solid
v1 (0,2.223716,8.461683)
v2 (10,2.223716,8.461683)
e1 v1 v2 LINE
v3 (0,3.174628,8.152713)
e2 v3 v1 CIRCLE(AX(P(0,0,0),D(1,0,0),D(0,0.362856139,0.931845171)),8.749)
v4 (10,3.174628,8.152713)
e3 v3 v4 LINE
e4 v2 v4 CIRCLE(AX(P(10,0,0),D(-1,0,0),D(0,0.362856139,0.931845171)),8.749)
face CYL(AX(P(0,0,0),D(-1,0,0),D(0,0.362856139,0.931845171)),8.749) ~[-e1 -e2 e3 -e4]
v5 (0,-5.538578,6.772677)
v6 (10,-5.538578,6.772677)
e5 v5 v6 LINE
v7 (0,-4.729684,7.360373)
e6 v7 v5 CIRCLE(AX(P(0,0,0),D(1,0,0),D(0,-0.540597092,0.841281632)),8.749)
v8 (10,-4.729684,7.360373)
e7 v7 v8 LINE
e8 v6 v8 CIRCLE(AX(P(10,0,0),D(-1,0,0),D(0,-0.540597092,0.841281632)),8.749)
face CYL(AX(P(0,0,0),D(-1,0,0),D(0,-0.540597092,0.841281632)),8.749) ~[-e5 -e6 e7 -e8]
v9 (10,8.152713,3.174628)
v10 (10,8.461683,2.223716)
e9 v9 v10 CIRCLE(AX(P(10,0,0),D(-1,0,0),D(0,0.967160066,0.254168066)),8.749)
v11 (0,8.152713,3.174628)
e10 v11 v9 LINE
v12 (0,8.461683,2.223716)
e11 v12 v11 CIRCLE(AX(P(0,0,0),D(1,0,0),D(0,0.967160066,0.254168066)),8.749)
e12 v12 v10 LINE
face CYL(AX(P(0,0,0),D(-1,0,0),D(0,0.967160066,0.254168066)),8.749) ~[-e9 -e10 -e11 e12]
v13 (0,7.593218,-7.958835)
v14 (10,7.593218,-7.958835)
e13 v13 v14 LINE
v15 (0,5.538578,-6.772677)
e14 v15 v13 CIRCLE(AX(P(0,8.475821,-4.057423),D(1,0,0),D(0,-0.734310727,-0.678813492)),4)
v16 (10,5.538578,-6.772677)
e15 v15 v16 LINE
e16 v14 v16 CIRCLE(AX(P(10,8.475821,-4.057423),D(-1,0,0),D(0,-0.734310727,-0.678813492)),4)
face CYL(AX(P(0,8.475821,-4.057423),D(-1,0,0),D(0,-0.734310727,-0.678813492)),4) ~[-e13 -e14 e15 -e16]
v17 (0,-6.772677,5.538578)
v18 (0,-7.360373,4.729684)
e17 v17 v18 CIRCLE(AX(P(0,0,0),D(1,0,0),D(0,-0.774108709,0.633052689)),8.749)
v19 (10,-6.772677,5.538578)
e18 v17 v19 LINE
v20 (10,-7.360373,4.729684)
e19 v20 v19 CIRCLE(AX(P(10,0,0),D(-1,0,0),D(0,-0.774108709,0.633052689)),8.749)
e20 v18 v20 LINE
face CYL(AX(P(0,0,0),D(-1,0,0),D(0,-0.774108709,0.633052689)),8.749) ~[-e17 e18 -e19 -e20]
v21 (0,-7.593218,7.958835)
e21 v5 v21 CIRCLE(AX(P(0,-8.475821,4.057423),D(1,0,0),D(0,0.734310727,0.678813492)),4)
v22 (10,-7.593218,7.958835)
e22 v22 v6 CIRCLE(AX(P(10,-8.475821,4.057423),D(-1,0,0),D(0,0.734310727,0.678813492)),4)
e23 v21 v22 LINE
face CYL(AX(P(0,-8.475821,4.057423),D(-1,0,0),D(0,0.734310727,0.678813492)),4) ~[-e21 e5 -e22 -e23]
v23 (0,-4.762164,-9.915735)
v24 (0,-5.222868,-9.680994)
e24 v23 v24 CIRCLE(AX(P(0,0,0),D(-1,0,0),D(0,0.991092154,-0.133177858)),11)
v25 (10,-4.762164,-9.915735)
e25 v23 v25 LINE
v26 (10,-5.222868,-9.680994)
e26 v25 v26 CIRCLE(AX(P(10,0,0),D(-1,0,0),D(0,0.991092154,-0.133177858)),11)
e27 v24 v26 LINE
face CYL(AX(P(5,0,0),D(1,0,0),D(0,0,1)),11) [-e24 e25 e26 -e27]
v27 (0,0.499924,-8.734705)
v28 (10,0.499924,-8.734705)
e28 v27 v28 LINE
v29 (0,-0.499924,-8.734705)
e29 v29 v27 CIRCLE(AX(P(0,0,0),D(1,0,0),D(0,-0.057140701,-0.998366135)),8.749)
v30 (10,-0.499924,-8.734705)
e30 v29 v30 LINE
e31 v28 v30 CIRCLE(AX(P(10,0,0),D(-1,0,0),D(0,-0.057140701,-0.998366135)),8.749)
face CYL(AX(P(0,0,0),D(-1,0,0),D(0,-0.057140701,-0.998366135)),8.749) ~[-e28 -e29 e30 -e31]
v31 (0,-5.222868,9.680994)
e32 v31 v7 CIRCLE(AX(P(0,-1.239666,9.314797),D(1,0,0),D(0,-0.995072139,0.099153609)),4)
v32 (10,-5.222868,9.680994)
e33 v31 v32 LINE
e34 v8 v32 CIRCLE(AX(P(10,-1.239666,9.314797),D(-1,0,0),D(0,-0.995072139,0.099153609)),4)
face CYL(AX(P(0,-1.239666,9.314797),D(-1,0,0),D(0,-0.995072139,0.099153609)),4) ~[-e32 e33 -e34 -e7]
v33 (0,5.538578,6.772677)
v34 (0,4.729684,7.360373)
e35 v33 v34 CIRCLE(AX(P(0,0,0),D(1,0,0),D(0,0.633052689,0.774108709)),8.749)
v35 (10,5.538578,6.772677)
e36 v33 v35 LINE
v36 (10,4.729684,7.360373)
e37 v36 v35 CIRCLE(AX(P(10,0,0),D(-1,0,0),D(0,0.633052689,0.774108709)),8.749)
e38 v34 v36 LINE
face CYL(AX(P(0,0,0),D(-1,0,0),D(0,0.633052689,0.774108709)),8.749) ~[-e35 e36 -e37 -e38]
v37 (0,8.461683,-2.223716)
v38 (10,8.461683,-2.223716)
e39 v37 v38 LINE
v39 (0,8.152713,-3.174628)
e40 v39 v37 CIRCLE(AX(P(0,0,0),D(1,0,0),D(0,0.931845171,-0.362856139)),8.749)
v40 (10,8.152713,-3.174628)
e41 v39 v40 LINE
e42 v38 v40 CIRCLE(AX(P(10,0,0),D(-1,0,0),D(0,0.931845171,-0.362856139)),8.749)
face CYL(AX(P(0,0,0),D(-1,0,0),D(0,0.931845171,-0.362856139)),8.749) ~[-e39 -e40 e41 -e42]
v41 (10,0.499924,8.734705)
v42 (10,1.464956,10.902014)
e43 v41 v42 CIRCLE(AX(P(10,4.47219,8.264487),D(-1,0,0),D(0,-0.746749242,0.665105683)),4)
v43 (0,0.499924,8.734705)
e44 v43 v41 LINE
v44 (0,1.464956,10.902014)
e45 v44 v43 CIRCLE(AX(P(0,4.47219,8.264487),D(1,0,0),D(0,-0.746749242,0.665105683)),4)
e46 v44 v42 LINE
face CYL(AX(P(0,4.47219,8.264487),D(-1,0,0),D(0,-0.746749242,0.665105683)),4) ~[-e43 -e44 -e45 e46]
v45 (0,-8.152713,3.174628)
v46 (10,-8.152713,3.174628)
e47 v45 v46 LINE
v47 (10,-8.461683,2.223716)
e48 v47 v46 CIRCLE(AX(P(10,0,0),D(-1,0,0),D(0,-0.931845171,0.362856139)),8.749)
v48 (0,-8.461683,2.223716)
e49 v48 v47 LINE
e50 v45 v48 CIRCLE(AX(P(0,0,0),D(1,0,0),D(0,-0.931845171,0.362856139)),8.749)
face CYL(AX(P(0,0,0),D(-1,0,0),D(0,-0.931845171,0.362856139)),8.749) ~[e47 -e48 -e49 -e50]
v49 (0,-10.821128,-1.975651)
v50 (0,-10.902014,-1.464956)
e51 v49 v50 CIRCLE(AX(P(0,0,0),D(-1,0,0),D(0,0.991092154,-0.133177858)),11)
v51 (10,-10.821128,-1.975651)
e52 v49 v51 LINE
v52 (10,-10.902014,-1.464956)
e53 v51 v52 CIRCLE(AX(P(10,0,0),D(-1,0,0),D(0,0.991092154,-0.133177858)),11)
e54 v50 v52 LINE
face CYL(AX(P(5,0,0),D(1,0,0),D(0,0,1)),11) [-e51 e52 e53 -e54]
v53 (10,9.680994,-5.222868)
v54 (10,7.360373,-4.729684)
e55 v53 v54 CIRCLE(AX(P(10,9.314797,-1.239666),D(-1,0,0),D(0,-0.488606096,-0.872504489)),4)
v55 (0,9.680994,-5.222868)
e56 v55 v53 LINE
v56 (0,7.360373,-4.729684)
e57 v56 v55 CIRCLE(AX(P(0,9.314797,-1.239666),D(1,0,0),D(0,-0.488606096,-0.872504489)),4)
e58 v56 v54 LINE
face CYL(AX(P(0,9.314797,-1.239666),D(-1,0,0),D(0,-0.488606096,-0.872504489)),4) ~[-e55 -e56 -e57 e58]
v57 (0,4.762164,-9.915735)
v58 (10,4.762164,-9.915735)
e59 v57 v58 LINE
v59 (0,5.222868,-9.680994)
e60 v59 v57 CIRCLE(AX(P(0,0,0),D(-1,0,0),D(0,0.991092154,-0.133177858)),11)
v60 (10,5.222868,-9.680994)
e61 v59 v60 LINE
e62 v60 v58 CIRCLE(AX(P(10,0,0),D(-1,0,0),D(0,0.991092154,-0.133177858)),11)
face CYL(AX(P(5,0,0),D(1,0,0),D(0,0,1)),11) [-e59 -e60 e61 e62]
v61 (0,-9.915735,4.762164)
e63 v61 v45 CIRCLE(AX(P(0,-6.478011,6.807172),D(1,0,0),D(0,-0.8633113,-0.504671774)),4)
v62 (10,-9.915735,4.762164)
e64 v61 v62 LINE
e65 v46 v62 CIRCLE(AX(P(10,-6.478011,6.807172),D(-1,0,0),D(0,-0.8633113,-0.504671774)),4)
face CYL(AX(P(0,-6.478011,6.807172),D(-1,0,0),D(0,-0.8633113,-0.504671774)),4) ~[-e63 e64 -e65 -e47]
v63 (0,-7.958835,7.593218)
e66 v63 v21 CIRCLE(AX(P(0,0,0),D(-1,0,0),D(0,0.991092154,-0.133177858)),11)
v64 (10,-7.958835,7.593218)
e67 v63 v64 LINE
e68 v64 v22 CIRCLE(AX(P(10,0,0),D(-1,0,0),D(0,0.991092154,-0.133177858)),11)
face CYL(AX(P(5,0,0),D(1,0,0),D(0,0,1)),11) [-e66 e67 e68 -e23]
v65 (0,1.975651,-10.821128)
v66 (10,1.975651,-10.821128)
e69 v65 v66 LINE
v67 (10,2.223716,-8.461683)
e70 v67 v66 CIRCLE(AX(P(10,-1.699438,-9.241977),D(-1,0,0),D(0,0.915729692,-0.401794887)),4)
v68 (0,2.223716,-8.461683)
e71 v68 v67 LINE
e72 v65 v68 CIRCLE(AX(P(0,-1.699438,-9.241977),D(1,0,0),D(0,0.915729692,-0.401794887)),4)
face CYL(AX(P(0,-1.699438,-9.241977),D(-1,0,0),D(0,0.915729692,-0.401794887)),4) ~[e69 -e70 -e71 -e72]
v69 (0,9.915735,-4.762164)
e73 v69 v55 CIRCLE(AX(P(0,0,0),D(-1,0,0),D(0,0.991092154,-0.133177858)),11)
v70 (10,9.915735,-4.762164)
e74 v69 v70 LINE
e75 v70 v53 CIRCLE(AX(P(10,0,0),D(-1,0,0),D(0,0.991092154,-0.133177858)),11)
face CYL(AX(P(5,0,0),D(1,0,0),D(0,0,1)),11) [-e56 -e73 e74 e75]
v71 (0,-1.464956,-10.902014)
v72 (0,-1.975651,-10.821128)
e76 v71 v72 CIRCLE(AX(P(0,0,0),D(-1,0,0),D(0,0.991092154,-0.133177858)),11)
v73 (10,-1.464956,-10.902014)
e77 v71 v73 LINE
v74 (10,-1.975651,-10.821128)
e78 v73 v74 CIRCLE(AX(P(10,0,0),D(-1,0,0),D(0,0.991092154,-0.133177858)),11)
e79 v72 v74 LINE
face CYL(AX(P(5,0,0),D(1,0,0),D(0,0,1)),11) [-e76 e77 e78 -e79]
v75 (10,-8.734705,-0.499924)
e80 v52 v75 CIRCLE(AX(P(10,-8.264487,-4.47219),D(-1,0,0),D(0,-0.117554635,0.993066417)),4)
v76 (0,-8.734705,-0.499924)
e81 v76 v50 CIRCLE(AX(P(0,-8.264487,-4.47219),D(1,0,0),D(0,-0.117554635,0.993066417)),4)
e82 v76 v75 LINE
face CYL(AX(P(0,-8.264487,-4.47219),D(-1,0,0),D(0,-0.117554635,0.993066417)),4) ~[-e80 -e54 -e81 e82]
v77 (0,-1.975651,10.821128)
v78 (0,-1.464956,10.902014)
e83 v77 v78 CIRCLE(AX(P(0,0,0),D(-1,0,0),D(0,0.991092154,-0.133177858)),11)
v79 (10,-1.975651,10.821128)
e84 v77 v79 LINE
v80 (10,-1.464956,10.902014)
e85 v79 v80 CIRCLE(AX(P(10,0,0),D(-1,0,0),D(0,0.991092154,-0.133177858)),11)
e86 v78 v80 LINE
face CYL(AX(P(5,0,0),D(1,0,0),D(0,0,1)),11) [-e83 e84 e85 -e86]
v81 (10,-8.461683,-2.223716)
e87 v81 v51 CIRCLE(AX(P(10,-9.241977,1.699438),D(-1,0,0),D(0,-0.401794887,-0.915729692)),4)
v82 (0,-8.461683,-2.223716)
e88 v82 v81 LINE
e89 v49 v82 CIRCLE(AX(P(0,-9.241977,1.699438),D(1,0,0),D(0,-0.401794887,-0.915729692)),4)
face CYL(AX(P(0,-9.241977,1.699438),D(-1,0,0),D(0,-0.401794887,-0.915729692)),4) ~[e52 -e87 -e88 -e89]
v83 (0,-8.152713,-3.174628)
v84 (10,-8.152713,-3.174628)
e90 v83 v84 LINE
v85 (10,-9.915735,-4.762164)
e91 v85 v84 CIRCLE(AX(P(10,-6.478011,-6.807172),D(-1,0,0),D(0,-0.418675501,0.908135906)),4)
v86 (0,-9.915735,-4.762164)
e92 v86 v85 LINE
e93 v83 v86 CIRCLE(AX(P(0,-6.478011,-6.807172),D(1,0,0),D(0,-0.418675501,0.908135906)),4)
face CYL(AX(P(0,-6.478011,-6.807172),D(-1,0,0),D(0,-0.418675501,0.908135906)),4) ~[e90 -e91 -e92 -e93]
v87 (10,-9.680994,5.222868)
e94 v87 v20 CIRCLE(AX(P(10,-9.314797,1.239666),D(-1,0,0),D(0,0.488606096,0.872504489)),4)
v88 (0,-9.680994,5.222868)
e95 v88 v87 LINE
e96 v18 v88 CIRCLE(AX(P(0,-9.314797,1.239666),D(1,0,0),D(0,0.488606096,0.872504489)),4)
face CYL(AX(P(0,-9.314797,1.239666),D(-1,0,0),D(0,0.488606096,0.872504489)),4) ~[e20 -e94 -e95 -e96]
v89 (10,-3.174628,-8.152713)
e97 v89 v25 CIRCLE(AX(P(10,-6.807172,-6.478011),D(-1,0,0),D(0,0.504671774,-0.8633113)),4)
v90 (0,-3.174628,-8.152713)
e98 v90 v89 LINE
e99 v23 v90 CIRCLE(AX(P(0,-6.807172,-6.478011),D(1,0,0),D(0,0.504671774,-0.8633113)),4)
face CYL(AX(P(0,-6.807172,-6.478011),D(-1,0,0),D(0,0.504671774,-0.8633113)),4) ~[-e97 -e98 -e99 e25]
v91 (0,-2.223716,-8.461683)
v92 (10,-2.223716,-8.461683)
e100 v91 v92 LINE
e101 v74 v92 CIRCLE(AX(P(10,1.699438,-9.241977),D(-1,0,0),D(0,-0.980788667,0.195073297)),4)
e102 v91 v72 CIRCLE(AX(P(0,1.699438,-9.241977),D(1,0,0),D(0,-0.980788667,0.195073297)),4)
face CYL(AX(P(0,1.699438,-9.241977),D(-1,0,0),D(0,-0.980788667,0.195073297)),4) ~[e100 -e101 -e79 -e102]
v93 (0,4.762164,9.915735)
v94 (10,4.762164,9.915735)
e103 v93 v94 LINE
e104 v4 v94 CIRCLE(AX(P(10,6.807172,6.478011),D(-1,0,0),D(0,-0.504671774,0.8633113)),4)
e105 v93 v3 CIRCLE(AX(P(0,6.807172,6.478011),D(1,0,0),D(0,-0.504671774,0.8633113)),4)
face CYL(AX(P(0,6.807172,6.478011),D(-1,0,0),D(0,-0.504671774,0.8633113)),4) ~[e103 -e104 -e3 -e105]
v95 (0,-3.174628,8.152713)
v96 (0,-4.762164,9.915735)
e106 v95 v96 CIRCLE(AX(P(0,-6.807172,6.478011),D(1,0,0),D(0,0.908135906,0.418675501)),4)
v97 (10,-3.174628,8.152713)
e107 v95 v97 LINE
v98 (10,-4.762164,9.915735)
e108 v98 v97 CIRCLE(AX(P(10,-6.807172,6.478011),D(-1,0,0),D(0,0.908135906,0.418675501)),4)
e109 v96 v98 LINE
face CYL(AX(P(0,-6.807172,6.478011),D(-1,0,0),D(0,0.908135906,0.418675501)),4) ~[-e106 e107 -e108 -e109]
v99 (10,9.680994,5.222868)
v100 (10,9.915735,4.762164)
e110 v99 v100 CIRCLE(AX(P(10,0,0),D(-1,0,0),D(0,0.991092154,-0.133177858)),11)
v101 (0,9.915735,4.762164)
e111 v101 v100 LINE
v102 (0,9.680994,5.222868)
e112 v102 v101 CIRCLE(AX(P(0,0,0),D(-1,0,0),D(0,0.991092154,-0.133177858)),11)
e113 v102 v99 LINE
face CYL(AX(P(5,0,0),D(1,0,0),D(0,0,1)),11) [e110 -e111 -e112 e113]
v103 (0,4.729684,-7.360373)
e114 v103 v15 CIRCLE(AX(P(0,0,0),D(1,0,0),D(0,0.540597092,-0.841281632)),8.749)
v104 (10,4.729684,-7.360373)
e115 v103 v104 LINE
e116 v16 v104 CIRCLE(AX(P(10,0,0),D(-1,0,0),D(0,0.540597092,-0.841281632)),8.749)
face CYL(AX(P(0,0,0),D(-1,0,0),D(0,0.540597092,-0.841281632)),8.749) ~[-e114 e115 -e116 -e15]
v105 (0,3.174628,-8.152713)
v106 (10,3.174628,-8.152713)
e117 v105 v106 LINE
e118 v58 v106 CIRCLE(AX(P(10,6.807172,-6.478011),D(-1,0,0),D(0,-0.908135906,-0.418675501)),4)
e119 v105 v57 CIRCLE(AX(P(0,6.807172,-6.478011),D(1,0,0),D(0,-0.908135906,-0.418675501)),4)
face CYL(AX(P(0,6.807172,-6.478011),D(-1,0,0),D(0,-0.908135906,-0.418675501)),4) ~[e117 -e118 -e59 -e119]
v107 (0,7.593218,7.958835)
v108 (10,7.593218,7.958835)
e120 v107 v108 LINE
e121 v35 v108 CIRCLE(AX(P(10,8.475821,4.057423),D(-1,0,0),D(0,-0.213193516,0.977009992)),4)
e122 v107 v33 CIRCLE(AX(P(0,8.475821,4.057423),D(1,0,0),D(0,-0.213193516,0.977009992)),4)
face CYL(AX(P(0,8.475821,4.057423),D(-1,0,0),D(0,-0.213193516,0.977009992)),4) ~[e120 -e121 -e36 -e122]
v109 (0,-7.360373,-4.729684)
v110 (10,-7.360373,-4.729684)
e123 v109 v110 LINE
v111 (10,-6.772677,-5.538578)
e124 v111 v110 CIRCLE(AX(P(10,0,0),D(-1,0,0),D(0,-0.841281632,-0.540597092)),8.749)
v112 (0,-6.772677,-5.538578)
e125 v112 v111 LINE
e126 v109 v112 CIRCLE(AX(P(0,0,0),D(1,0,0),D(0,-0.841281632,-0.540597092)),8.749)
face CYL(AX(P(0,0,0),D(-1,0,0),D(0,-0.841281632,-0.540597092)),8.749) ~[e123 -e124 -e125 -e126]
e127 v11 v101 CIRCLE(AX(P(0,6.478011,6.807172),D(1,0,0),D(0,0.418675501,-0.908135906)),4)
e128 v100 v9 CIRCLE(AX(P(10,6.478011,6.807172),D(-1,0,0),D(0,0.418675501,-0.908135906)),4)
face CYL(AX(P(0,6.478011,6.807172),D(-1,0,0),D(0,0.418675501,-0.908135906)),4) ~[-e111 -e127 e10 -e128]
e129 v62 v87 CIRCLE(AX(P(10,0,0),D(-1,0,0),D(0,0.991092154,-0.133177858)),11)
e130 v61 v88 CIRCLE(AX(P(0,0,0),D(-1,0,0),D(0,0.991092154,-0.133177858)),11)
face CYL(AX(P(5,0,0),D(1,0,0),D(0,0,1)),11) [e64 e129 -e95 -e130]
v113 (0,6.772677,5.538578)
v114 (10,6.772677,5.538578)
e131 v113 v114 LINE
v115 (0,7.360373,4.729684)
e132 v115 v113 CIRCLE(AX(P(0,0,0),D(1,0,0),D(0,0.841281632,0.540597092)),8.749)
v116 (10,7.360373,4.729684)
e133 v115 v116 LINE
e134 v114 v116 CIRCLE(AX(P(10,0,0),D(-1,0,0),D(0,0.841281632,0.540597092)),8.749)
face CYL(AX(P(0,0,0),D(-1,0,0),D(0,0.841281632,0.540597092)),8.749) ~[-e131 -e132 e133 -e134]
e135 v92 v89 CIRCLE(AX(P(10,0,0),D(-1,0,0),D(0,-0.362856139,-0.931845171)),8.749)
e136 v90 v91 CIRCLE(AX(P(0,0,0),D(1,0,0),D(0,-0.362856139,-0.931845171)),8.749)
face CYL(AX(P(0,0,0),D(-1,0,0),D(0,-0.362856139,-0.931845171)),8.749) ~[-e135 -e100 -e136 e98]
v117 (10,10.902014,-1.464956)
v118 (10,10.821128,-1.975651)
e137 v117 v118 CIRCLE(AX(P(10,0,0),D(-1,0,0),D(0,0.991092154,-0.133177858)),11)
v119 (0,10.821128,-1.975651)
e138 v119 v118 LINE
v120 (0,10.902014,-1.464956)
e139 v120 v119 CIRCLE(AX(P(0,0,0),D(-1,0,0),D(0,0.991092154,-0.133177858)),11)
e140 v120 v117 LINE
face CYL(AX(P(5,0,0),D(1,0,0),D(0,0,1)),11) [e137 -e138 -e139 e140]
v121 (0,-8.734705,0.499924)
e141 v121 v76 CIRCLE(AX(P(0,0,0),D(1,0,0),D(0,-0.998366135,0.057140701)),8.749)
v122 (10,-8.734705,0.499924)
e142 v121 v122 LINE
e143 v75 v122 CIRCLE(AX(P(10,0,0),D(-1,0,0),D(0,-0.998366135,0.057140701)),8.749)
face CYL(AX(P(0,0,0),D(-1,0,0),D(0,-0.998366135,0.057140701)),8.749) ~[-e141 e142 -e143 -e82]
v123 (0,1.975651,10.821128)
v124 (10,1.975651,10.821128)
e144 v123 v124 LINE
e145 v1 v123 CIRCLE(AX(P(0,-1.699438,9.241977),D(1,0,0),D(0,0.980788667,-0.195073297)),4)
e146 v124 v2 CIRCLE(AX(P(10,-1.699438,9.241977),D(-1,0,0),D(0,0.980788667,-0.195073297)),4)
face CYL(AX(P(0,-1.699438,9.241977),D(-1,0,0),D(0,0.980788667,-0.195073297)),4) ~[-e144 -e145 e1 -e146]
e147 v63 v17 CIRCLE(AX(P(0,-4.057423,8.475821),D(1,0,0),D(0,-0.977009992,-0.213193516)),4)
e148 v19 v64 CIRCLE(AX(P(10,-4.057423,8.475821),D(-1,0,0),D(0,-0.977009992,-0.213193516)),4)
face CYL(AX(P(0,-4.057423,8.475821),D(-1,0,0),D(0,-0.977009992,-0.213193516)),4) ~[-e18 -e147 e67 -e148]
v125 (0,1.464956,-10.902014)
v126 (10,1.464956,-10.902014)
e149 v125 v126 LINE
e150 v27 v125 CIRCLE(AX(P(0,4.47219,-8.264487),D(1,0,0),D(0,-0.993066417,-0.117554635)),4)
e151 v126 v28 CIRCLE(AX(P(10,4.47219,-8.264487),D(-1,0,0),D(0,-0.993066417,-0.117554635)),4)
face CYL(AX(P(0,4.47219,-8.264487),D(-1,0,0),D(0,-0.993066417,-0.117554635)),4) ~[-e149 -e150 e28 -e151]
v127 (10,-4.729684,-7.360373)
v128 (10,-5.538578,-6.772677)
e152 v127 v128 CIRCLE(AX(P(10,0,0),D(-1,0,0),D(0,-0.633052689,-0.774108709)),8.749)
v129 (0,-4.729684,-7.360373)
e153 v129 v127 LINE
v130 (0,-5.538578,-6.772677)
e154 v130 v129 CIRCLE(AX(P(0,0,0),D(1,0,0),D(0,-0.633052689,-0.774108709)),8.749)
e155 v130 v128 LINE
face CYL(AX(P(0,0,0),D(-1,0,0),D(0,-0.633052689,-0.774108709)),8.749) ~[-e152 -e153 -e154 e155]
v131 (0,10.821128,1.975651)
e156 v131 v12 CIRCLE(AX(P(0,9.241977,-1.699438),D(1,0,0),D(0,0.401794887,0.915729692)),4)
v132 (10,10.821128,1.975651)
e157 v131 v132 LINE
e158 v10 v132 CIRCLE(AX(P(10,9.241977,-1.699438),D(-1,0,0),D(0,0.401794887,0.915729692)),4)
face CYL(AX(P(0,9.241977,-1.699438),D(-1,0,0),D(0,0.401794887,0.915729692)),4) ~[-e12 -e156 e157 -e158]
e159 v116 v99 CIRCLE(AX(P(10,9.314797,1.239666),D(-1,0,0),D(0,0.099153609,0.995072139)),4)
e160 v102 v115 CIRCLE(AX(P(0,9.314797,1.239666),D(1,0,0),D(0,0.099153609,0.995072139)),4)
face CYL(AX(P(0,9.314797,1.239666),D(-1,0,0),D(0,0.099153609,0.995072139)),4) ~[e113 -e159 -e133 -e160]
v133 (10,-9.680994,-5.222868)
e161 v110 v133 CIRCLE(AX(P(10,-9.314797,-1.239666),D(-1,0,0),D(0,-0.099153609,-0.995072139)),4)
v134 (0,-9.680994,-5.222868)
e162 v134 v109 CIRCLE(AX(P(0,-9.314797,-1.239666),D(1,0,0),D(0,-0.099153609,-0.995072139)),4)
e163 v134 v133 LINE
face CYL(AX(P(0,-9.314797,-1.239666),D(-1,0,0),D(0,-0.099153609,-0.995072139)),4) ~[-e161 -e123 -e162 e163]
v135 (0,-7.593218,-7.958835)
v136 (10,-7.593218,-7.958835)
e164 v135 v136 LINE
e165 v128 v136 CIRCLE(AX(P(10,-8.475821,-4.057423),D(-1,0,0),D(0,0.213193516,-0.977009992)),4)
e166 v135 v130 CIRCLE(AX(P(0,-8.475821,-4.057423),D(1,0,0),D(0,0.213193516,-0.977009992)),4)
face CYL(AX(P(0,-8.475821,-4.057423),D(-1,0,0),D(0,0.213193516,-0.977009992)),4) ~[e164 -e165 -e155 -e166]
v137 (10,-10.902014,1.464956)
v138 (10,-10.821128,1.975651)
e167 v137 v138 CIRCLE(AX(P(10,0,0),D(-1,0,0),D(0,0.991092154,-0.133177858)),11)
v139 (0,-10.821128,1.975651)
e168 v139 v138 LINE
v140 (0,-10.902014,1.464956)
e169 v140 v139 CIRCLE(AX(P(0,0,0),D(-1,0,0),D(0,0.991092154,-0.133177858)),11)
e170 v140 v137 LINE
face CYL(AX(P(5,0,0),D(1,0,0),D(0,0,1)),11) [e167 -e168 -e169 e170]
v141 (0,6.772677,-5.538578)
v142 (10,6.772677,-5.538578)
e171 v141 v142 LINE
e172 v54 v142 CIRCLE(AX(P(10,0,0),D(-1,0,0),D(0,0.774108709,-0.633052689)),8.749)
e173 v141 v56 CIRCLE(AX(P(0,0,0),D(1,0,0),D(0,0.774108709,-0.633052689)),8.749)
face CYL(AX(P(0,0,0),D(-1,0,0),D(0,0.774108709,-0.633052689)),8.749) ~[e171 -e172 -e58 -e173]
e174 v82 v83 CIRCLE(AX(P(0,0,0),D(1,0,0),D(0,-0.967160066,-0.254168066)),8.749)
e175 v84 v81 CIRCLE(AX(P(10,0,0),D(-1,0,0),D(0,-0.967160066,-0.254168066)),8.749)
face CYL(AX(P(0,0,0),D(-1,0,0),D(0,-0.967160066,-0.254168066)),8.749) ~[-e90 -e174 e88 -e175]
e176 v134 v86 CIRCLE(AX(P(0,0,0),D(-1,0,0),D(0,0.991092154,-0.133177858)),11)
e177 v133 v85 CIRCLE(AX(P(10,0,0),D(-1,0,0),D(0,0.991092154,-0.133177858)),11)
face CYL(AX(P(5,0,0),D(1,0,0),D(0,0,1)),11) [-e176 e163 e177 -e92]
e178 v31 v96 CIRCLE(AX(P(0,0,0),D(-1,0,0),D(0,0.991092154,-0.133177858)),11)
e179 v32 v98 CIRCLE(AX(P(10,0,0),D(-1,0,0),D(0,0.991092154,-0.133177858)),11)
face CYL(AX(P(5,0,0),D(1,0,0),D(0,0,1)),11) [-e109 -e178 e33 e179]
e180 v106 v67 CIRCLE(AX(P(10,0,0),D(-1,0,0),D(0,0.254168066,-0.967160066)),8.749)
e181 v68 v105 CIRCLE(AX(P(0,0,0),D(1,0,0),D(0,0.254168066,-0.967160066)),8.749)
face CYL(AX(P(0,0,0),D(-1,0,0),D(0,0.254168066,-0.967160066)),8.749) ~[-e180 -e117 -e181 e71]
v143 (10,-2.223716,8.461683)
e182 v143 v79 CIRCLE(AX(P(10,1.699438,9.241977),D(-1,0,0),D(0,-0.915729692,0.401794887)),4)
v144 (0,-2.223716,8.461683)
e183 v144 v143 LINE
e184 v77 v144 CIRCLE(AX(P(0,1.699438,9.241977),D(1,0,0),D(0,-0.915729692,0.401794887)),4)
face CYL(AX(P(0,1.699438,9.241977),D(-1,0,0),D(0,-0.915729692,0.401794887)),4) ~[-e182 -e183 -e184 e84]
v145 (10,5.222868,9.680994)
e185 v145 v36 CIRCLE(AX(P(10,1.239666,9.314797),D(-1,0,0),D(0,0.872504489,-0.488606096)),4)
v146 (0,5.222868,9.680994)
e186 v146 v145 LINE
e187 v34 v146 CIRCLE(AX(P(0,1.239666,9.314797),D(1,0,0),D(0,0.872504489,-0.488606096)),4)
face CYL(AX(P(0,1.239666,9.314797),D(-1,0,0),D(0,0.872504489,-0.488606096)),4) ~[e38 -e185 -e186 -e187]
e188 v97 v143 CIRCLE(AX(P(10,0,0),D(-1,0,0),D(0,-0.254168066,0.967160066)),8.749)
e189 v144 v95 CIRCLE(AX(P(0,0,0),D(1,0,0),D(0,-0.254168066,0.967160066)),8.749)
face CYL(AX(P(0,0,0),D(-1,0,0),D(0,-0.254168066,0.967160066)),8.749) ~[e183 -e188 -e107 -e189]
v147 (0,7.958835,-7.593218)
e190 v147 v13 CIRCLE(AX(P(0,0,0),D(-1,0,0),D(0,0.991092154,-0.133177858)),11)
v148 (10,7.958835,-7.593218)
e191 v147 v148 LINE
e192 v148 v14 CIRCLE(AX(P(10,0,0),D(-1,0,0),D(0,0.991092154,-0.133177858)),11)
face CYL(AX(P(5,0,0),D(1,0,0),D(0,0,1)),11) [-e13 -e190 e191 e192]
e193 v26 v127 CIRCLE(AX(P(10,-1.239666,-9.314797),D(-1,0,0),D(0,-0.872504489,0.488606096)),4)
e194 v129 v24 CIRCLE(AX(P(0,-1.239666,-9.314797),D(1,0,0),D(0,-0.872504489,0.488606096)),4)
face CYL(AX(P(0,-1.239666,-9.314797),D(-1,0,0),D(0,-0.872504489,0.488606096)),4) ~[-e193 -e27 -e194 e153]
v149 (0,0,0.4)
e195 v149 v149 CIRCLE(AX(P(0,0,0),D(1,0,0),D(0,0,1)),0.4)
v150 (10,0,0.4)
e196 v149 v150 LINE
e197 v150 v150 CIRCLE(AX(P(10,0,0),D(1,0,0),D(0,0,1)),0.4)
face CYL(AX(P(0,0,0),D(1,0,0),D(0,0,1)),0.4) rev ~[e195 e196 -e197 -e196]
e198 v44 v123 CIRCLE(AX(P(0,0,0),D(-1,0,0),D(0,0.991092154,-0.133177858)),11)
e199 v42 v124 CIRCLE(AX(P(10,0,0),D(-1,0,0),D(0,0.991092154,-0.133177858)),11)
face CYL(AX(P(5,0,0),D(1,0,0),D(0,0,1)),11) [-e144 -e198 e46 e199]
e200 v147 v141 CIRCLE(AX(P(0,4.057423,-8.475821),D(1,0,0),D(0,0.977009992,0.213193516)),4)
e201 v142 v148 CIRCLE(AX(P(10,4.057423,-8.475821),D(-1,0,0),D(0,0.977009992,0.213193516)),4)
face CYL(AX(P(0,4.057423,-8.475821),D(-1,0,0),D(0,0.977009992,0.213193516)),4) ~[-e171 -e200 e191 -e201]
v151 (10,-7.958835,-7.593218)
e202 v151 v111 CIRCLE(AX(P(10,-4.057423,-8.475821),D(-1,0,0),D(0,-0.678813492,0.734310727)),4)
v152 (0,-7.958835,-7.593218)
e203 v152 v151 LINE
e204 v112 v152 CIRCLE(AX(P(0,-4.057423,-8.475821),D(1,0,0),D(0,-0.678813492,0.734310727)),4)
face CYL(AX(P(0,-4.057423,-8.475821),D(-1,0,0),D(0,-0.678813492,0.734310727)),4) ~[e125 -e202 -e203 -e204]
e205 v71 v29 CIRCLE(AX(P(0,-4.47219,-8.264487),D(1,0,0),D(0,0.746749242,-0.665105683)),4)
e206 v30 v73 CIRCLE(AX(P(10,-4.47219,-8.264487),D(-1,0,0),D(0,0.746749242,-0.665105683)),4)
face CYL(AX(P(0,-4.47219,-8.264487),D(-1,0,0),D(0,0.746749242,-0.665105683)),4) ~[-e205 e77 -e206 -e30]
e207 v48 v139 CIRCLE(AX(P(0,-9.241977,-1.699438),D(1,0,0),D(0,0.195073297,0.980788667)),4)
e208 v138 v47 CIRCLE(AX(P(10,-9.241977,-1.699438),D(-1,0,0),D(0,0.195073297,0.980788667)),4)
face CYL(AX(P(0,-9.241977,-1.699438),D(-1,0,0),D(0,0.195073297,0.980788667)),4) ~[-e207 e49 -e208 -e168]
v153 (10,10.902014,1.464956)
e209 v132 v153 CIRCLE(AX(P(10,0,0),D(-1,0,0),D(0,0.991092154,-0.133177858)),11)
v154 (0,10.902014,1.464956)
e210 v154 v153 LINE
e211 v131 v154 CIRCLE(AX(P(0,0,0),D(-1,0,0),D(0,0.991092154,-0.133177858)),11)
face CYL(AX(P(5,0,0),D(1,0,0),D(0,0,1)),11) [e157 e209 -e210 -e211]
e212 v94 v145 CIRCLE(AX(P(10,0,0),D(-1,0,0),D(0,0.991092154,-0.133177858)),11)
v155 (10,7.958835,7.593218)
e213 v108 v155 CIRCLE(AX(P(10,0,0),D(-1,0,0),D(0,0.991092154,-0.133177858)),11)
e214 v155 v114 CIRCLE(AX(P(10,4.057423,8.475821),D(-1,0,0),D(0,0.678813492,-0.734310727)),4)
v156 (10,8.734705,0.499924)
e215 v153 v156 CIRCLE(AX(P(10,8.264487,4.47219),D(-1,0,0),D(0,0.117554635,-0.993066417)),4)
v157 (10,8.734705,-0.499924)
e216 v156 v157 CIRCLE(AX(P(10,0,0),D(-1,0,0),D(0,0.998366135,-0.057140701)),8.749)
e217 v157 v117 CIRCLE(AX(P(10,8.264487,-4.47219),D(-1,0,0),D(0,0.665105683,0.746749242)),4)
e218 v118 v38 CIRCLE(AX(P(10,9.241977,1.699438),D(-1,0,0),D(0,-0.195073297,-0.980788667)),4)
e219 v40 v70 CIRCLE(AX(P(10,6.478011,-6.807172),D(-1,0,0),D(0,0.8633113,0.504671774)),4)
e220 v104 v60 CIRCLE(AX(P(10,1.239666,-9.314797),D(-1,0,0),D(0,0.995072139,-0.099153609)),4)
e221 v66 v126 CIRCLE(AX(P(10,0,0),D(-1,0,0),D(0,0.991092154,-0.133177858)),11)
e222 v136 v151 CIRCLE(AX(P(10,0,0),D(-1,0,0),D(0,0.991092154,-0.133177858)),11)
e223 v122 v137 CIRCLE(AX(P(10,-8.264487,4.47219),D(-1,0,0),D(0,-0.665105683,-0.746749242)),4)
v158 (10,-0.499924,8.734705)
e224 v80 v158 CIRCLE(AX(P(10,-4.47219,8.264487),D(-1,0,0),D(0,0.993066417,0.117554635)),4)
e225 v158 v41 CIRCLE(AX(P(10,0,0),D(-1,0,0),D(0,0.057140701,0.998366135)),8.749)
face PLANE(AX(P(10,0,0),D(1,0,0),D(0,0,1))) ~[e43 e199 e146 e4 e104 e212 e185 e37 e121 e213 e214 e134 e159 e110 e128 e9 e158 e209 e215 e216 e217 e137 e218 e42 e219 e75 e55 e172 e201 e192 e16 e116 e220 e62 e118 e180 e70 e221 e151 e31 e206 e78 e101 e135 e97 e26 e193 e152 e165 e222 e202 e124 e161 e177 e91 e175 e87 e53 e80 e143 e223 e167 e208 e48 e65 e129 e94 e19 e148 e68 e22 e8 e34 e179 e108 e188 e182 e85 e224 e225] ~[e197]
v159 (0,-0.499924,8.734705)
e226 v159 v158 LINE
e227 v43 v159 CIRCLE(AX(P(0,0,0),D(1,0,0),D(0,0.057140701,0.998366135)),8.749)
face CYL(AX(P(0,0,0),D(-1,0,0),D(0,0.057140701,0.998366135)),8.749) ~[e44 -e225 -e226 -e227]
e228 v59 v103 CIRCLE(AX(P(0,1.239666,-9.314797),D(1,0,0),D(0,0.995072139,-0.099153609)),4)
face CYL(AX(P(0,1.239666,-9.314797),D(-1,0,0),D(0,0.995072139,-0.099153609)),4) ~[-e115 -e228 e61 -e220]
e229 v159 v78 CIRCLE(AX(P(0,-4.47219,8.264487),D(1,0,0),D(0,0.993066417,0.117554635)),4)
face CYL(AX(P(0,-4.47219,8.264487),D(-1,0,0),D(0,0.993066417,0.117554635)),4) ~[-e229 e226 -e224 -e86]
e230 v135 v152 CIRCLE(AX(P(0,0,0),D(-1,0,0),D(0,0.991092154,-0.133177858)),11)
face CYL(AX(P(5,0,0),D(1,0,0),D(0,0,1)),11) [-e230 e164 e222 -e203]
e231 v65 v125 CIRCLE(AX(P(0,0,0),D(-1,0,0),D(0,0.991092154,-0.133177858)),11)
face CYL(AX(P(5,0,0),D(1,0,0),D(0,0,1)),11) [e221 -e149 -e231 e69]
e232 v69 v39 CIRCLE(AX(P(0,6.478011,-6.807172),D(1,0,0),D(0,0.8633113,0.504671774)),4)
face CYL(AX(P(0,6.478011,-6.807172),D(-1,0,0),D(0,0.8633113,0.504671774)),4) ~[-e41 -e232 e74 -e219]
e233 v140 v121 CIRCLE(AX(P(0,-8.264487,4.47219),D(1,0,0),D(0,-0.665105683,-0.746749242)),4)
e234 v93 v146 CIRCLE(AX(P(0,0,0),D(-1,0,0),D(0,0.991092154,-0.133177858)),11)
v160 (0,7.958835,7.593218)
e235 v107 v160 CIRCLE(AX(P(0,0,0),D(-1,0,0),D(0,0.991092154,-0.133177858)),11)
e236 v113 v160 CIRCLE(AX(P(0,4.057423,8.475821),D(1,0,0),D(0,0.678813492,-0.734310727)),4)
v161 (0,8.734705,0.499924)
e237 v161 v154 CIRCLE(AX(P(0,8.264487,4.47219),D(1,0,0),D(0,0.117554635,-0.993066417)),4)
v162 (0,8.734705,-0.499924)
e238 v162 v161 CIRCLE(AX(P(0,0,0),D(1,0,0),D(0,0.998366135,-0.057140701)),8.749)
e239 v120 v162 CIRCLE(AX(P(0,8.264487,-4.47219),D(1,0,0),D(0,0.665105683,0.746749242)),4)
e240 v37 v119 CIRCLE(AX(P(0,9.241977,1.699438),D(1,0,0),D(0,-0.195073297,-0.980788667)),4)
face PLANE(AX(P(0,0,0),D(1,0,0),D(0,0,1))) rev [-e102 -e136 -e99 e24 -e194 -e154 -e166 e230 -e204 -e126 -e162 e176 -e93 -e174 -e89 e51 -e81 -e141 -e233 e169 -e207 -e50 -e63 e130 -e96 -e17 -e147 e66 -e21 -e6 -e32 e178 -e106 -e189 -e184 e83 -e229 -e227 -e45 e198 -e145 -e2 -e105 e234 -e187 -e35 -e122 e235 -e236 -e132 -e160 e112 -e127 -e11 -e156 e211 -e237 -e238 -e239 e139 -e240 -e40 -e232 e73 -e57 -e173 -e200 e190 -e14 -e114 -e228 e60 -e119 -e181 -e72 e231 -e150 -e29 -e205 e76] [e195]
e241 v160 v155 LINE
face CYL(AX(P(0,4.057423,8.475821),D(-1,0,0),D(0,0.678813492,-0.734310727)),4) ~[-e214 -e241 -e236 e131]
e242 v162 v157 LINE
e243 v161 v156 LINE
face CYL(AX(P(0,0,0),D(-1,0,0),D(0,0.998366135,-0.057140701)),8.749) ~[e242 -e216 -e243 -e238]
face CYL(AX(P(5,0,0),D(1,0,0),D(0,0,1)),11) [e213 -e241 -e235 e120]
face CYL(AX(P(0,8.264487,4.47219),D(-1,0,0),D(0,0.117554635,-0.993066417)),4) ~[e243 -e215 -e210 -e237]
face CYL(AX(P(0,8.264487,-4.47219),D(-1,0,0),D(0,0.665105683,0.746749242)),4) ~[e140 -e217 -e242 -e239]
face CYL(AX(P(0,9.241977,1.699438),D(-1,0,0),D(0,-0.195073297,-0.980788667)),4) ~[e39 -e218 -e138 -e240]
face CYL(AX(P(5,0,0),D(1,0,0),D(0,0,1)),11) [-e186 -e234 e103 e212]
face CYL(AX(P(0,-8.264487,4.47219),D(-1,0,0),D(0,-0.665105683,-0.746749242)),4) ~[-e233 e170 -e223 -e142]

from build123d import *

# Parameters (mm, degrees)
BASPROSKE_W     = 10
BASPROSKE_H     = 11
TOOTHCUT_DEPTH  = 19.493242009
TEETHCUTS_COUNT = 20
BORSKE_R        = 0.4
BORE_DEPTH      = 50.0000508


with BuildPart() as part:
    # BasProSke → Base-Revolve (revolve)
    with BuildSketch(Plane(origin=(0, 0, 0), x_dir=(1, 0, 0), z_dir=(0, 1, 0)), mode=Mode.PRIVATE) as base_revolve_sk:
        with Locations((5, 5.5)):
            Rectangle(BASPROSKE_W, BASPROSKE_H)
    revolve(base_revolve_sk.sketch.rotate(Axis((-10, 0, 0), (1, 0, 0)), 180), axis=Axis((-10, 0, 0), (1, 0, 0)))

    # TooCutSke → ToothCut (cut, through all)
    with BuildSketch(Plane(origin=(0, 0, 0), x_dir=(0, 0, -1), z_dir=(1, 0, 0))):
        with BuildLine():
            ThreePointArc((0.499924007, 8.734705318), (0, 8.749), (-0.499924007, 8.734705318))
            ThreePointArc((-0.499924007, 8.734705318), (-0.824302243, 9.905497836), (-1.485192705, 10.924909509))
            ThreePointArc((-1.485192705, 10.924909509), (0, 11.0254), (1.485192705, 10.924909509))
            ThreePointArc((1.485192705, 10.924909509), (0.824302243, 9.905497836), (0.499924007, 8.734705318))
        make_face()
    toothcut = extrude(amount=TOOTHCUT_DEPTH, mode=Mode.SUBTRACT)

    # TeethCuts: ToothCut ×20 about axis
    teethcuts_axis = Axis((0, 0, 0), (1, 0, 0))
    for i in range(1, TEETHCUTS_COUNT):
        add(toothcut.rotate(teethcuts_axis, i * 360 / TEETHCUTS_COUNT), mode=Mode.SUBTRACT)

    # BorSke → Bore (cut, symmetric)
    with BuildSketch(Plane(origin=(0, 0, 0), x_dir=(0, 0, -1), z_dir=(1, 0, 0))):
        with Locations(Location((0, 0, 0), (0, 0, 180))):
            Circle(BORSKE_R)
    extrude(amount=BORE_DEPTH, both=True, mode=Mode.SUBTRACT)


solid = part.part
